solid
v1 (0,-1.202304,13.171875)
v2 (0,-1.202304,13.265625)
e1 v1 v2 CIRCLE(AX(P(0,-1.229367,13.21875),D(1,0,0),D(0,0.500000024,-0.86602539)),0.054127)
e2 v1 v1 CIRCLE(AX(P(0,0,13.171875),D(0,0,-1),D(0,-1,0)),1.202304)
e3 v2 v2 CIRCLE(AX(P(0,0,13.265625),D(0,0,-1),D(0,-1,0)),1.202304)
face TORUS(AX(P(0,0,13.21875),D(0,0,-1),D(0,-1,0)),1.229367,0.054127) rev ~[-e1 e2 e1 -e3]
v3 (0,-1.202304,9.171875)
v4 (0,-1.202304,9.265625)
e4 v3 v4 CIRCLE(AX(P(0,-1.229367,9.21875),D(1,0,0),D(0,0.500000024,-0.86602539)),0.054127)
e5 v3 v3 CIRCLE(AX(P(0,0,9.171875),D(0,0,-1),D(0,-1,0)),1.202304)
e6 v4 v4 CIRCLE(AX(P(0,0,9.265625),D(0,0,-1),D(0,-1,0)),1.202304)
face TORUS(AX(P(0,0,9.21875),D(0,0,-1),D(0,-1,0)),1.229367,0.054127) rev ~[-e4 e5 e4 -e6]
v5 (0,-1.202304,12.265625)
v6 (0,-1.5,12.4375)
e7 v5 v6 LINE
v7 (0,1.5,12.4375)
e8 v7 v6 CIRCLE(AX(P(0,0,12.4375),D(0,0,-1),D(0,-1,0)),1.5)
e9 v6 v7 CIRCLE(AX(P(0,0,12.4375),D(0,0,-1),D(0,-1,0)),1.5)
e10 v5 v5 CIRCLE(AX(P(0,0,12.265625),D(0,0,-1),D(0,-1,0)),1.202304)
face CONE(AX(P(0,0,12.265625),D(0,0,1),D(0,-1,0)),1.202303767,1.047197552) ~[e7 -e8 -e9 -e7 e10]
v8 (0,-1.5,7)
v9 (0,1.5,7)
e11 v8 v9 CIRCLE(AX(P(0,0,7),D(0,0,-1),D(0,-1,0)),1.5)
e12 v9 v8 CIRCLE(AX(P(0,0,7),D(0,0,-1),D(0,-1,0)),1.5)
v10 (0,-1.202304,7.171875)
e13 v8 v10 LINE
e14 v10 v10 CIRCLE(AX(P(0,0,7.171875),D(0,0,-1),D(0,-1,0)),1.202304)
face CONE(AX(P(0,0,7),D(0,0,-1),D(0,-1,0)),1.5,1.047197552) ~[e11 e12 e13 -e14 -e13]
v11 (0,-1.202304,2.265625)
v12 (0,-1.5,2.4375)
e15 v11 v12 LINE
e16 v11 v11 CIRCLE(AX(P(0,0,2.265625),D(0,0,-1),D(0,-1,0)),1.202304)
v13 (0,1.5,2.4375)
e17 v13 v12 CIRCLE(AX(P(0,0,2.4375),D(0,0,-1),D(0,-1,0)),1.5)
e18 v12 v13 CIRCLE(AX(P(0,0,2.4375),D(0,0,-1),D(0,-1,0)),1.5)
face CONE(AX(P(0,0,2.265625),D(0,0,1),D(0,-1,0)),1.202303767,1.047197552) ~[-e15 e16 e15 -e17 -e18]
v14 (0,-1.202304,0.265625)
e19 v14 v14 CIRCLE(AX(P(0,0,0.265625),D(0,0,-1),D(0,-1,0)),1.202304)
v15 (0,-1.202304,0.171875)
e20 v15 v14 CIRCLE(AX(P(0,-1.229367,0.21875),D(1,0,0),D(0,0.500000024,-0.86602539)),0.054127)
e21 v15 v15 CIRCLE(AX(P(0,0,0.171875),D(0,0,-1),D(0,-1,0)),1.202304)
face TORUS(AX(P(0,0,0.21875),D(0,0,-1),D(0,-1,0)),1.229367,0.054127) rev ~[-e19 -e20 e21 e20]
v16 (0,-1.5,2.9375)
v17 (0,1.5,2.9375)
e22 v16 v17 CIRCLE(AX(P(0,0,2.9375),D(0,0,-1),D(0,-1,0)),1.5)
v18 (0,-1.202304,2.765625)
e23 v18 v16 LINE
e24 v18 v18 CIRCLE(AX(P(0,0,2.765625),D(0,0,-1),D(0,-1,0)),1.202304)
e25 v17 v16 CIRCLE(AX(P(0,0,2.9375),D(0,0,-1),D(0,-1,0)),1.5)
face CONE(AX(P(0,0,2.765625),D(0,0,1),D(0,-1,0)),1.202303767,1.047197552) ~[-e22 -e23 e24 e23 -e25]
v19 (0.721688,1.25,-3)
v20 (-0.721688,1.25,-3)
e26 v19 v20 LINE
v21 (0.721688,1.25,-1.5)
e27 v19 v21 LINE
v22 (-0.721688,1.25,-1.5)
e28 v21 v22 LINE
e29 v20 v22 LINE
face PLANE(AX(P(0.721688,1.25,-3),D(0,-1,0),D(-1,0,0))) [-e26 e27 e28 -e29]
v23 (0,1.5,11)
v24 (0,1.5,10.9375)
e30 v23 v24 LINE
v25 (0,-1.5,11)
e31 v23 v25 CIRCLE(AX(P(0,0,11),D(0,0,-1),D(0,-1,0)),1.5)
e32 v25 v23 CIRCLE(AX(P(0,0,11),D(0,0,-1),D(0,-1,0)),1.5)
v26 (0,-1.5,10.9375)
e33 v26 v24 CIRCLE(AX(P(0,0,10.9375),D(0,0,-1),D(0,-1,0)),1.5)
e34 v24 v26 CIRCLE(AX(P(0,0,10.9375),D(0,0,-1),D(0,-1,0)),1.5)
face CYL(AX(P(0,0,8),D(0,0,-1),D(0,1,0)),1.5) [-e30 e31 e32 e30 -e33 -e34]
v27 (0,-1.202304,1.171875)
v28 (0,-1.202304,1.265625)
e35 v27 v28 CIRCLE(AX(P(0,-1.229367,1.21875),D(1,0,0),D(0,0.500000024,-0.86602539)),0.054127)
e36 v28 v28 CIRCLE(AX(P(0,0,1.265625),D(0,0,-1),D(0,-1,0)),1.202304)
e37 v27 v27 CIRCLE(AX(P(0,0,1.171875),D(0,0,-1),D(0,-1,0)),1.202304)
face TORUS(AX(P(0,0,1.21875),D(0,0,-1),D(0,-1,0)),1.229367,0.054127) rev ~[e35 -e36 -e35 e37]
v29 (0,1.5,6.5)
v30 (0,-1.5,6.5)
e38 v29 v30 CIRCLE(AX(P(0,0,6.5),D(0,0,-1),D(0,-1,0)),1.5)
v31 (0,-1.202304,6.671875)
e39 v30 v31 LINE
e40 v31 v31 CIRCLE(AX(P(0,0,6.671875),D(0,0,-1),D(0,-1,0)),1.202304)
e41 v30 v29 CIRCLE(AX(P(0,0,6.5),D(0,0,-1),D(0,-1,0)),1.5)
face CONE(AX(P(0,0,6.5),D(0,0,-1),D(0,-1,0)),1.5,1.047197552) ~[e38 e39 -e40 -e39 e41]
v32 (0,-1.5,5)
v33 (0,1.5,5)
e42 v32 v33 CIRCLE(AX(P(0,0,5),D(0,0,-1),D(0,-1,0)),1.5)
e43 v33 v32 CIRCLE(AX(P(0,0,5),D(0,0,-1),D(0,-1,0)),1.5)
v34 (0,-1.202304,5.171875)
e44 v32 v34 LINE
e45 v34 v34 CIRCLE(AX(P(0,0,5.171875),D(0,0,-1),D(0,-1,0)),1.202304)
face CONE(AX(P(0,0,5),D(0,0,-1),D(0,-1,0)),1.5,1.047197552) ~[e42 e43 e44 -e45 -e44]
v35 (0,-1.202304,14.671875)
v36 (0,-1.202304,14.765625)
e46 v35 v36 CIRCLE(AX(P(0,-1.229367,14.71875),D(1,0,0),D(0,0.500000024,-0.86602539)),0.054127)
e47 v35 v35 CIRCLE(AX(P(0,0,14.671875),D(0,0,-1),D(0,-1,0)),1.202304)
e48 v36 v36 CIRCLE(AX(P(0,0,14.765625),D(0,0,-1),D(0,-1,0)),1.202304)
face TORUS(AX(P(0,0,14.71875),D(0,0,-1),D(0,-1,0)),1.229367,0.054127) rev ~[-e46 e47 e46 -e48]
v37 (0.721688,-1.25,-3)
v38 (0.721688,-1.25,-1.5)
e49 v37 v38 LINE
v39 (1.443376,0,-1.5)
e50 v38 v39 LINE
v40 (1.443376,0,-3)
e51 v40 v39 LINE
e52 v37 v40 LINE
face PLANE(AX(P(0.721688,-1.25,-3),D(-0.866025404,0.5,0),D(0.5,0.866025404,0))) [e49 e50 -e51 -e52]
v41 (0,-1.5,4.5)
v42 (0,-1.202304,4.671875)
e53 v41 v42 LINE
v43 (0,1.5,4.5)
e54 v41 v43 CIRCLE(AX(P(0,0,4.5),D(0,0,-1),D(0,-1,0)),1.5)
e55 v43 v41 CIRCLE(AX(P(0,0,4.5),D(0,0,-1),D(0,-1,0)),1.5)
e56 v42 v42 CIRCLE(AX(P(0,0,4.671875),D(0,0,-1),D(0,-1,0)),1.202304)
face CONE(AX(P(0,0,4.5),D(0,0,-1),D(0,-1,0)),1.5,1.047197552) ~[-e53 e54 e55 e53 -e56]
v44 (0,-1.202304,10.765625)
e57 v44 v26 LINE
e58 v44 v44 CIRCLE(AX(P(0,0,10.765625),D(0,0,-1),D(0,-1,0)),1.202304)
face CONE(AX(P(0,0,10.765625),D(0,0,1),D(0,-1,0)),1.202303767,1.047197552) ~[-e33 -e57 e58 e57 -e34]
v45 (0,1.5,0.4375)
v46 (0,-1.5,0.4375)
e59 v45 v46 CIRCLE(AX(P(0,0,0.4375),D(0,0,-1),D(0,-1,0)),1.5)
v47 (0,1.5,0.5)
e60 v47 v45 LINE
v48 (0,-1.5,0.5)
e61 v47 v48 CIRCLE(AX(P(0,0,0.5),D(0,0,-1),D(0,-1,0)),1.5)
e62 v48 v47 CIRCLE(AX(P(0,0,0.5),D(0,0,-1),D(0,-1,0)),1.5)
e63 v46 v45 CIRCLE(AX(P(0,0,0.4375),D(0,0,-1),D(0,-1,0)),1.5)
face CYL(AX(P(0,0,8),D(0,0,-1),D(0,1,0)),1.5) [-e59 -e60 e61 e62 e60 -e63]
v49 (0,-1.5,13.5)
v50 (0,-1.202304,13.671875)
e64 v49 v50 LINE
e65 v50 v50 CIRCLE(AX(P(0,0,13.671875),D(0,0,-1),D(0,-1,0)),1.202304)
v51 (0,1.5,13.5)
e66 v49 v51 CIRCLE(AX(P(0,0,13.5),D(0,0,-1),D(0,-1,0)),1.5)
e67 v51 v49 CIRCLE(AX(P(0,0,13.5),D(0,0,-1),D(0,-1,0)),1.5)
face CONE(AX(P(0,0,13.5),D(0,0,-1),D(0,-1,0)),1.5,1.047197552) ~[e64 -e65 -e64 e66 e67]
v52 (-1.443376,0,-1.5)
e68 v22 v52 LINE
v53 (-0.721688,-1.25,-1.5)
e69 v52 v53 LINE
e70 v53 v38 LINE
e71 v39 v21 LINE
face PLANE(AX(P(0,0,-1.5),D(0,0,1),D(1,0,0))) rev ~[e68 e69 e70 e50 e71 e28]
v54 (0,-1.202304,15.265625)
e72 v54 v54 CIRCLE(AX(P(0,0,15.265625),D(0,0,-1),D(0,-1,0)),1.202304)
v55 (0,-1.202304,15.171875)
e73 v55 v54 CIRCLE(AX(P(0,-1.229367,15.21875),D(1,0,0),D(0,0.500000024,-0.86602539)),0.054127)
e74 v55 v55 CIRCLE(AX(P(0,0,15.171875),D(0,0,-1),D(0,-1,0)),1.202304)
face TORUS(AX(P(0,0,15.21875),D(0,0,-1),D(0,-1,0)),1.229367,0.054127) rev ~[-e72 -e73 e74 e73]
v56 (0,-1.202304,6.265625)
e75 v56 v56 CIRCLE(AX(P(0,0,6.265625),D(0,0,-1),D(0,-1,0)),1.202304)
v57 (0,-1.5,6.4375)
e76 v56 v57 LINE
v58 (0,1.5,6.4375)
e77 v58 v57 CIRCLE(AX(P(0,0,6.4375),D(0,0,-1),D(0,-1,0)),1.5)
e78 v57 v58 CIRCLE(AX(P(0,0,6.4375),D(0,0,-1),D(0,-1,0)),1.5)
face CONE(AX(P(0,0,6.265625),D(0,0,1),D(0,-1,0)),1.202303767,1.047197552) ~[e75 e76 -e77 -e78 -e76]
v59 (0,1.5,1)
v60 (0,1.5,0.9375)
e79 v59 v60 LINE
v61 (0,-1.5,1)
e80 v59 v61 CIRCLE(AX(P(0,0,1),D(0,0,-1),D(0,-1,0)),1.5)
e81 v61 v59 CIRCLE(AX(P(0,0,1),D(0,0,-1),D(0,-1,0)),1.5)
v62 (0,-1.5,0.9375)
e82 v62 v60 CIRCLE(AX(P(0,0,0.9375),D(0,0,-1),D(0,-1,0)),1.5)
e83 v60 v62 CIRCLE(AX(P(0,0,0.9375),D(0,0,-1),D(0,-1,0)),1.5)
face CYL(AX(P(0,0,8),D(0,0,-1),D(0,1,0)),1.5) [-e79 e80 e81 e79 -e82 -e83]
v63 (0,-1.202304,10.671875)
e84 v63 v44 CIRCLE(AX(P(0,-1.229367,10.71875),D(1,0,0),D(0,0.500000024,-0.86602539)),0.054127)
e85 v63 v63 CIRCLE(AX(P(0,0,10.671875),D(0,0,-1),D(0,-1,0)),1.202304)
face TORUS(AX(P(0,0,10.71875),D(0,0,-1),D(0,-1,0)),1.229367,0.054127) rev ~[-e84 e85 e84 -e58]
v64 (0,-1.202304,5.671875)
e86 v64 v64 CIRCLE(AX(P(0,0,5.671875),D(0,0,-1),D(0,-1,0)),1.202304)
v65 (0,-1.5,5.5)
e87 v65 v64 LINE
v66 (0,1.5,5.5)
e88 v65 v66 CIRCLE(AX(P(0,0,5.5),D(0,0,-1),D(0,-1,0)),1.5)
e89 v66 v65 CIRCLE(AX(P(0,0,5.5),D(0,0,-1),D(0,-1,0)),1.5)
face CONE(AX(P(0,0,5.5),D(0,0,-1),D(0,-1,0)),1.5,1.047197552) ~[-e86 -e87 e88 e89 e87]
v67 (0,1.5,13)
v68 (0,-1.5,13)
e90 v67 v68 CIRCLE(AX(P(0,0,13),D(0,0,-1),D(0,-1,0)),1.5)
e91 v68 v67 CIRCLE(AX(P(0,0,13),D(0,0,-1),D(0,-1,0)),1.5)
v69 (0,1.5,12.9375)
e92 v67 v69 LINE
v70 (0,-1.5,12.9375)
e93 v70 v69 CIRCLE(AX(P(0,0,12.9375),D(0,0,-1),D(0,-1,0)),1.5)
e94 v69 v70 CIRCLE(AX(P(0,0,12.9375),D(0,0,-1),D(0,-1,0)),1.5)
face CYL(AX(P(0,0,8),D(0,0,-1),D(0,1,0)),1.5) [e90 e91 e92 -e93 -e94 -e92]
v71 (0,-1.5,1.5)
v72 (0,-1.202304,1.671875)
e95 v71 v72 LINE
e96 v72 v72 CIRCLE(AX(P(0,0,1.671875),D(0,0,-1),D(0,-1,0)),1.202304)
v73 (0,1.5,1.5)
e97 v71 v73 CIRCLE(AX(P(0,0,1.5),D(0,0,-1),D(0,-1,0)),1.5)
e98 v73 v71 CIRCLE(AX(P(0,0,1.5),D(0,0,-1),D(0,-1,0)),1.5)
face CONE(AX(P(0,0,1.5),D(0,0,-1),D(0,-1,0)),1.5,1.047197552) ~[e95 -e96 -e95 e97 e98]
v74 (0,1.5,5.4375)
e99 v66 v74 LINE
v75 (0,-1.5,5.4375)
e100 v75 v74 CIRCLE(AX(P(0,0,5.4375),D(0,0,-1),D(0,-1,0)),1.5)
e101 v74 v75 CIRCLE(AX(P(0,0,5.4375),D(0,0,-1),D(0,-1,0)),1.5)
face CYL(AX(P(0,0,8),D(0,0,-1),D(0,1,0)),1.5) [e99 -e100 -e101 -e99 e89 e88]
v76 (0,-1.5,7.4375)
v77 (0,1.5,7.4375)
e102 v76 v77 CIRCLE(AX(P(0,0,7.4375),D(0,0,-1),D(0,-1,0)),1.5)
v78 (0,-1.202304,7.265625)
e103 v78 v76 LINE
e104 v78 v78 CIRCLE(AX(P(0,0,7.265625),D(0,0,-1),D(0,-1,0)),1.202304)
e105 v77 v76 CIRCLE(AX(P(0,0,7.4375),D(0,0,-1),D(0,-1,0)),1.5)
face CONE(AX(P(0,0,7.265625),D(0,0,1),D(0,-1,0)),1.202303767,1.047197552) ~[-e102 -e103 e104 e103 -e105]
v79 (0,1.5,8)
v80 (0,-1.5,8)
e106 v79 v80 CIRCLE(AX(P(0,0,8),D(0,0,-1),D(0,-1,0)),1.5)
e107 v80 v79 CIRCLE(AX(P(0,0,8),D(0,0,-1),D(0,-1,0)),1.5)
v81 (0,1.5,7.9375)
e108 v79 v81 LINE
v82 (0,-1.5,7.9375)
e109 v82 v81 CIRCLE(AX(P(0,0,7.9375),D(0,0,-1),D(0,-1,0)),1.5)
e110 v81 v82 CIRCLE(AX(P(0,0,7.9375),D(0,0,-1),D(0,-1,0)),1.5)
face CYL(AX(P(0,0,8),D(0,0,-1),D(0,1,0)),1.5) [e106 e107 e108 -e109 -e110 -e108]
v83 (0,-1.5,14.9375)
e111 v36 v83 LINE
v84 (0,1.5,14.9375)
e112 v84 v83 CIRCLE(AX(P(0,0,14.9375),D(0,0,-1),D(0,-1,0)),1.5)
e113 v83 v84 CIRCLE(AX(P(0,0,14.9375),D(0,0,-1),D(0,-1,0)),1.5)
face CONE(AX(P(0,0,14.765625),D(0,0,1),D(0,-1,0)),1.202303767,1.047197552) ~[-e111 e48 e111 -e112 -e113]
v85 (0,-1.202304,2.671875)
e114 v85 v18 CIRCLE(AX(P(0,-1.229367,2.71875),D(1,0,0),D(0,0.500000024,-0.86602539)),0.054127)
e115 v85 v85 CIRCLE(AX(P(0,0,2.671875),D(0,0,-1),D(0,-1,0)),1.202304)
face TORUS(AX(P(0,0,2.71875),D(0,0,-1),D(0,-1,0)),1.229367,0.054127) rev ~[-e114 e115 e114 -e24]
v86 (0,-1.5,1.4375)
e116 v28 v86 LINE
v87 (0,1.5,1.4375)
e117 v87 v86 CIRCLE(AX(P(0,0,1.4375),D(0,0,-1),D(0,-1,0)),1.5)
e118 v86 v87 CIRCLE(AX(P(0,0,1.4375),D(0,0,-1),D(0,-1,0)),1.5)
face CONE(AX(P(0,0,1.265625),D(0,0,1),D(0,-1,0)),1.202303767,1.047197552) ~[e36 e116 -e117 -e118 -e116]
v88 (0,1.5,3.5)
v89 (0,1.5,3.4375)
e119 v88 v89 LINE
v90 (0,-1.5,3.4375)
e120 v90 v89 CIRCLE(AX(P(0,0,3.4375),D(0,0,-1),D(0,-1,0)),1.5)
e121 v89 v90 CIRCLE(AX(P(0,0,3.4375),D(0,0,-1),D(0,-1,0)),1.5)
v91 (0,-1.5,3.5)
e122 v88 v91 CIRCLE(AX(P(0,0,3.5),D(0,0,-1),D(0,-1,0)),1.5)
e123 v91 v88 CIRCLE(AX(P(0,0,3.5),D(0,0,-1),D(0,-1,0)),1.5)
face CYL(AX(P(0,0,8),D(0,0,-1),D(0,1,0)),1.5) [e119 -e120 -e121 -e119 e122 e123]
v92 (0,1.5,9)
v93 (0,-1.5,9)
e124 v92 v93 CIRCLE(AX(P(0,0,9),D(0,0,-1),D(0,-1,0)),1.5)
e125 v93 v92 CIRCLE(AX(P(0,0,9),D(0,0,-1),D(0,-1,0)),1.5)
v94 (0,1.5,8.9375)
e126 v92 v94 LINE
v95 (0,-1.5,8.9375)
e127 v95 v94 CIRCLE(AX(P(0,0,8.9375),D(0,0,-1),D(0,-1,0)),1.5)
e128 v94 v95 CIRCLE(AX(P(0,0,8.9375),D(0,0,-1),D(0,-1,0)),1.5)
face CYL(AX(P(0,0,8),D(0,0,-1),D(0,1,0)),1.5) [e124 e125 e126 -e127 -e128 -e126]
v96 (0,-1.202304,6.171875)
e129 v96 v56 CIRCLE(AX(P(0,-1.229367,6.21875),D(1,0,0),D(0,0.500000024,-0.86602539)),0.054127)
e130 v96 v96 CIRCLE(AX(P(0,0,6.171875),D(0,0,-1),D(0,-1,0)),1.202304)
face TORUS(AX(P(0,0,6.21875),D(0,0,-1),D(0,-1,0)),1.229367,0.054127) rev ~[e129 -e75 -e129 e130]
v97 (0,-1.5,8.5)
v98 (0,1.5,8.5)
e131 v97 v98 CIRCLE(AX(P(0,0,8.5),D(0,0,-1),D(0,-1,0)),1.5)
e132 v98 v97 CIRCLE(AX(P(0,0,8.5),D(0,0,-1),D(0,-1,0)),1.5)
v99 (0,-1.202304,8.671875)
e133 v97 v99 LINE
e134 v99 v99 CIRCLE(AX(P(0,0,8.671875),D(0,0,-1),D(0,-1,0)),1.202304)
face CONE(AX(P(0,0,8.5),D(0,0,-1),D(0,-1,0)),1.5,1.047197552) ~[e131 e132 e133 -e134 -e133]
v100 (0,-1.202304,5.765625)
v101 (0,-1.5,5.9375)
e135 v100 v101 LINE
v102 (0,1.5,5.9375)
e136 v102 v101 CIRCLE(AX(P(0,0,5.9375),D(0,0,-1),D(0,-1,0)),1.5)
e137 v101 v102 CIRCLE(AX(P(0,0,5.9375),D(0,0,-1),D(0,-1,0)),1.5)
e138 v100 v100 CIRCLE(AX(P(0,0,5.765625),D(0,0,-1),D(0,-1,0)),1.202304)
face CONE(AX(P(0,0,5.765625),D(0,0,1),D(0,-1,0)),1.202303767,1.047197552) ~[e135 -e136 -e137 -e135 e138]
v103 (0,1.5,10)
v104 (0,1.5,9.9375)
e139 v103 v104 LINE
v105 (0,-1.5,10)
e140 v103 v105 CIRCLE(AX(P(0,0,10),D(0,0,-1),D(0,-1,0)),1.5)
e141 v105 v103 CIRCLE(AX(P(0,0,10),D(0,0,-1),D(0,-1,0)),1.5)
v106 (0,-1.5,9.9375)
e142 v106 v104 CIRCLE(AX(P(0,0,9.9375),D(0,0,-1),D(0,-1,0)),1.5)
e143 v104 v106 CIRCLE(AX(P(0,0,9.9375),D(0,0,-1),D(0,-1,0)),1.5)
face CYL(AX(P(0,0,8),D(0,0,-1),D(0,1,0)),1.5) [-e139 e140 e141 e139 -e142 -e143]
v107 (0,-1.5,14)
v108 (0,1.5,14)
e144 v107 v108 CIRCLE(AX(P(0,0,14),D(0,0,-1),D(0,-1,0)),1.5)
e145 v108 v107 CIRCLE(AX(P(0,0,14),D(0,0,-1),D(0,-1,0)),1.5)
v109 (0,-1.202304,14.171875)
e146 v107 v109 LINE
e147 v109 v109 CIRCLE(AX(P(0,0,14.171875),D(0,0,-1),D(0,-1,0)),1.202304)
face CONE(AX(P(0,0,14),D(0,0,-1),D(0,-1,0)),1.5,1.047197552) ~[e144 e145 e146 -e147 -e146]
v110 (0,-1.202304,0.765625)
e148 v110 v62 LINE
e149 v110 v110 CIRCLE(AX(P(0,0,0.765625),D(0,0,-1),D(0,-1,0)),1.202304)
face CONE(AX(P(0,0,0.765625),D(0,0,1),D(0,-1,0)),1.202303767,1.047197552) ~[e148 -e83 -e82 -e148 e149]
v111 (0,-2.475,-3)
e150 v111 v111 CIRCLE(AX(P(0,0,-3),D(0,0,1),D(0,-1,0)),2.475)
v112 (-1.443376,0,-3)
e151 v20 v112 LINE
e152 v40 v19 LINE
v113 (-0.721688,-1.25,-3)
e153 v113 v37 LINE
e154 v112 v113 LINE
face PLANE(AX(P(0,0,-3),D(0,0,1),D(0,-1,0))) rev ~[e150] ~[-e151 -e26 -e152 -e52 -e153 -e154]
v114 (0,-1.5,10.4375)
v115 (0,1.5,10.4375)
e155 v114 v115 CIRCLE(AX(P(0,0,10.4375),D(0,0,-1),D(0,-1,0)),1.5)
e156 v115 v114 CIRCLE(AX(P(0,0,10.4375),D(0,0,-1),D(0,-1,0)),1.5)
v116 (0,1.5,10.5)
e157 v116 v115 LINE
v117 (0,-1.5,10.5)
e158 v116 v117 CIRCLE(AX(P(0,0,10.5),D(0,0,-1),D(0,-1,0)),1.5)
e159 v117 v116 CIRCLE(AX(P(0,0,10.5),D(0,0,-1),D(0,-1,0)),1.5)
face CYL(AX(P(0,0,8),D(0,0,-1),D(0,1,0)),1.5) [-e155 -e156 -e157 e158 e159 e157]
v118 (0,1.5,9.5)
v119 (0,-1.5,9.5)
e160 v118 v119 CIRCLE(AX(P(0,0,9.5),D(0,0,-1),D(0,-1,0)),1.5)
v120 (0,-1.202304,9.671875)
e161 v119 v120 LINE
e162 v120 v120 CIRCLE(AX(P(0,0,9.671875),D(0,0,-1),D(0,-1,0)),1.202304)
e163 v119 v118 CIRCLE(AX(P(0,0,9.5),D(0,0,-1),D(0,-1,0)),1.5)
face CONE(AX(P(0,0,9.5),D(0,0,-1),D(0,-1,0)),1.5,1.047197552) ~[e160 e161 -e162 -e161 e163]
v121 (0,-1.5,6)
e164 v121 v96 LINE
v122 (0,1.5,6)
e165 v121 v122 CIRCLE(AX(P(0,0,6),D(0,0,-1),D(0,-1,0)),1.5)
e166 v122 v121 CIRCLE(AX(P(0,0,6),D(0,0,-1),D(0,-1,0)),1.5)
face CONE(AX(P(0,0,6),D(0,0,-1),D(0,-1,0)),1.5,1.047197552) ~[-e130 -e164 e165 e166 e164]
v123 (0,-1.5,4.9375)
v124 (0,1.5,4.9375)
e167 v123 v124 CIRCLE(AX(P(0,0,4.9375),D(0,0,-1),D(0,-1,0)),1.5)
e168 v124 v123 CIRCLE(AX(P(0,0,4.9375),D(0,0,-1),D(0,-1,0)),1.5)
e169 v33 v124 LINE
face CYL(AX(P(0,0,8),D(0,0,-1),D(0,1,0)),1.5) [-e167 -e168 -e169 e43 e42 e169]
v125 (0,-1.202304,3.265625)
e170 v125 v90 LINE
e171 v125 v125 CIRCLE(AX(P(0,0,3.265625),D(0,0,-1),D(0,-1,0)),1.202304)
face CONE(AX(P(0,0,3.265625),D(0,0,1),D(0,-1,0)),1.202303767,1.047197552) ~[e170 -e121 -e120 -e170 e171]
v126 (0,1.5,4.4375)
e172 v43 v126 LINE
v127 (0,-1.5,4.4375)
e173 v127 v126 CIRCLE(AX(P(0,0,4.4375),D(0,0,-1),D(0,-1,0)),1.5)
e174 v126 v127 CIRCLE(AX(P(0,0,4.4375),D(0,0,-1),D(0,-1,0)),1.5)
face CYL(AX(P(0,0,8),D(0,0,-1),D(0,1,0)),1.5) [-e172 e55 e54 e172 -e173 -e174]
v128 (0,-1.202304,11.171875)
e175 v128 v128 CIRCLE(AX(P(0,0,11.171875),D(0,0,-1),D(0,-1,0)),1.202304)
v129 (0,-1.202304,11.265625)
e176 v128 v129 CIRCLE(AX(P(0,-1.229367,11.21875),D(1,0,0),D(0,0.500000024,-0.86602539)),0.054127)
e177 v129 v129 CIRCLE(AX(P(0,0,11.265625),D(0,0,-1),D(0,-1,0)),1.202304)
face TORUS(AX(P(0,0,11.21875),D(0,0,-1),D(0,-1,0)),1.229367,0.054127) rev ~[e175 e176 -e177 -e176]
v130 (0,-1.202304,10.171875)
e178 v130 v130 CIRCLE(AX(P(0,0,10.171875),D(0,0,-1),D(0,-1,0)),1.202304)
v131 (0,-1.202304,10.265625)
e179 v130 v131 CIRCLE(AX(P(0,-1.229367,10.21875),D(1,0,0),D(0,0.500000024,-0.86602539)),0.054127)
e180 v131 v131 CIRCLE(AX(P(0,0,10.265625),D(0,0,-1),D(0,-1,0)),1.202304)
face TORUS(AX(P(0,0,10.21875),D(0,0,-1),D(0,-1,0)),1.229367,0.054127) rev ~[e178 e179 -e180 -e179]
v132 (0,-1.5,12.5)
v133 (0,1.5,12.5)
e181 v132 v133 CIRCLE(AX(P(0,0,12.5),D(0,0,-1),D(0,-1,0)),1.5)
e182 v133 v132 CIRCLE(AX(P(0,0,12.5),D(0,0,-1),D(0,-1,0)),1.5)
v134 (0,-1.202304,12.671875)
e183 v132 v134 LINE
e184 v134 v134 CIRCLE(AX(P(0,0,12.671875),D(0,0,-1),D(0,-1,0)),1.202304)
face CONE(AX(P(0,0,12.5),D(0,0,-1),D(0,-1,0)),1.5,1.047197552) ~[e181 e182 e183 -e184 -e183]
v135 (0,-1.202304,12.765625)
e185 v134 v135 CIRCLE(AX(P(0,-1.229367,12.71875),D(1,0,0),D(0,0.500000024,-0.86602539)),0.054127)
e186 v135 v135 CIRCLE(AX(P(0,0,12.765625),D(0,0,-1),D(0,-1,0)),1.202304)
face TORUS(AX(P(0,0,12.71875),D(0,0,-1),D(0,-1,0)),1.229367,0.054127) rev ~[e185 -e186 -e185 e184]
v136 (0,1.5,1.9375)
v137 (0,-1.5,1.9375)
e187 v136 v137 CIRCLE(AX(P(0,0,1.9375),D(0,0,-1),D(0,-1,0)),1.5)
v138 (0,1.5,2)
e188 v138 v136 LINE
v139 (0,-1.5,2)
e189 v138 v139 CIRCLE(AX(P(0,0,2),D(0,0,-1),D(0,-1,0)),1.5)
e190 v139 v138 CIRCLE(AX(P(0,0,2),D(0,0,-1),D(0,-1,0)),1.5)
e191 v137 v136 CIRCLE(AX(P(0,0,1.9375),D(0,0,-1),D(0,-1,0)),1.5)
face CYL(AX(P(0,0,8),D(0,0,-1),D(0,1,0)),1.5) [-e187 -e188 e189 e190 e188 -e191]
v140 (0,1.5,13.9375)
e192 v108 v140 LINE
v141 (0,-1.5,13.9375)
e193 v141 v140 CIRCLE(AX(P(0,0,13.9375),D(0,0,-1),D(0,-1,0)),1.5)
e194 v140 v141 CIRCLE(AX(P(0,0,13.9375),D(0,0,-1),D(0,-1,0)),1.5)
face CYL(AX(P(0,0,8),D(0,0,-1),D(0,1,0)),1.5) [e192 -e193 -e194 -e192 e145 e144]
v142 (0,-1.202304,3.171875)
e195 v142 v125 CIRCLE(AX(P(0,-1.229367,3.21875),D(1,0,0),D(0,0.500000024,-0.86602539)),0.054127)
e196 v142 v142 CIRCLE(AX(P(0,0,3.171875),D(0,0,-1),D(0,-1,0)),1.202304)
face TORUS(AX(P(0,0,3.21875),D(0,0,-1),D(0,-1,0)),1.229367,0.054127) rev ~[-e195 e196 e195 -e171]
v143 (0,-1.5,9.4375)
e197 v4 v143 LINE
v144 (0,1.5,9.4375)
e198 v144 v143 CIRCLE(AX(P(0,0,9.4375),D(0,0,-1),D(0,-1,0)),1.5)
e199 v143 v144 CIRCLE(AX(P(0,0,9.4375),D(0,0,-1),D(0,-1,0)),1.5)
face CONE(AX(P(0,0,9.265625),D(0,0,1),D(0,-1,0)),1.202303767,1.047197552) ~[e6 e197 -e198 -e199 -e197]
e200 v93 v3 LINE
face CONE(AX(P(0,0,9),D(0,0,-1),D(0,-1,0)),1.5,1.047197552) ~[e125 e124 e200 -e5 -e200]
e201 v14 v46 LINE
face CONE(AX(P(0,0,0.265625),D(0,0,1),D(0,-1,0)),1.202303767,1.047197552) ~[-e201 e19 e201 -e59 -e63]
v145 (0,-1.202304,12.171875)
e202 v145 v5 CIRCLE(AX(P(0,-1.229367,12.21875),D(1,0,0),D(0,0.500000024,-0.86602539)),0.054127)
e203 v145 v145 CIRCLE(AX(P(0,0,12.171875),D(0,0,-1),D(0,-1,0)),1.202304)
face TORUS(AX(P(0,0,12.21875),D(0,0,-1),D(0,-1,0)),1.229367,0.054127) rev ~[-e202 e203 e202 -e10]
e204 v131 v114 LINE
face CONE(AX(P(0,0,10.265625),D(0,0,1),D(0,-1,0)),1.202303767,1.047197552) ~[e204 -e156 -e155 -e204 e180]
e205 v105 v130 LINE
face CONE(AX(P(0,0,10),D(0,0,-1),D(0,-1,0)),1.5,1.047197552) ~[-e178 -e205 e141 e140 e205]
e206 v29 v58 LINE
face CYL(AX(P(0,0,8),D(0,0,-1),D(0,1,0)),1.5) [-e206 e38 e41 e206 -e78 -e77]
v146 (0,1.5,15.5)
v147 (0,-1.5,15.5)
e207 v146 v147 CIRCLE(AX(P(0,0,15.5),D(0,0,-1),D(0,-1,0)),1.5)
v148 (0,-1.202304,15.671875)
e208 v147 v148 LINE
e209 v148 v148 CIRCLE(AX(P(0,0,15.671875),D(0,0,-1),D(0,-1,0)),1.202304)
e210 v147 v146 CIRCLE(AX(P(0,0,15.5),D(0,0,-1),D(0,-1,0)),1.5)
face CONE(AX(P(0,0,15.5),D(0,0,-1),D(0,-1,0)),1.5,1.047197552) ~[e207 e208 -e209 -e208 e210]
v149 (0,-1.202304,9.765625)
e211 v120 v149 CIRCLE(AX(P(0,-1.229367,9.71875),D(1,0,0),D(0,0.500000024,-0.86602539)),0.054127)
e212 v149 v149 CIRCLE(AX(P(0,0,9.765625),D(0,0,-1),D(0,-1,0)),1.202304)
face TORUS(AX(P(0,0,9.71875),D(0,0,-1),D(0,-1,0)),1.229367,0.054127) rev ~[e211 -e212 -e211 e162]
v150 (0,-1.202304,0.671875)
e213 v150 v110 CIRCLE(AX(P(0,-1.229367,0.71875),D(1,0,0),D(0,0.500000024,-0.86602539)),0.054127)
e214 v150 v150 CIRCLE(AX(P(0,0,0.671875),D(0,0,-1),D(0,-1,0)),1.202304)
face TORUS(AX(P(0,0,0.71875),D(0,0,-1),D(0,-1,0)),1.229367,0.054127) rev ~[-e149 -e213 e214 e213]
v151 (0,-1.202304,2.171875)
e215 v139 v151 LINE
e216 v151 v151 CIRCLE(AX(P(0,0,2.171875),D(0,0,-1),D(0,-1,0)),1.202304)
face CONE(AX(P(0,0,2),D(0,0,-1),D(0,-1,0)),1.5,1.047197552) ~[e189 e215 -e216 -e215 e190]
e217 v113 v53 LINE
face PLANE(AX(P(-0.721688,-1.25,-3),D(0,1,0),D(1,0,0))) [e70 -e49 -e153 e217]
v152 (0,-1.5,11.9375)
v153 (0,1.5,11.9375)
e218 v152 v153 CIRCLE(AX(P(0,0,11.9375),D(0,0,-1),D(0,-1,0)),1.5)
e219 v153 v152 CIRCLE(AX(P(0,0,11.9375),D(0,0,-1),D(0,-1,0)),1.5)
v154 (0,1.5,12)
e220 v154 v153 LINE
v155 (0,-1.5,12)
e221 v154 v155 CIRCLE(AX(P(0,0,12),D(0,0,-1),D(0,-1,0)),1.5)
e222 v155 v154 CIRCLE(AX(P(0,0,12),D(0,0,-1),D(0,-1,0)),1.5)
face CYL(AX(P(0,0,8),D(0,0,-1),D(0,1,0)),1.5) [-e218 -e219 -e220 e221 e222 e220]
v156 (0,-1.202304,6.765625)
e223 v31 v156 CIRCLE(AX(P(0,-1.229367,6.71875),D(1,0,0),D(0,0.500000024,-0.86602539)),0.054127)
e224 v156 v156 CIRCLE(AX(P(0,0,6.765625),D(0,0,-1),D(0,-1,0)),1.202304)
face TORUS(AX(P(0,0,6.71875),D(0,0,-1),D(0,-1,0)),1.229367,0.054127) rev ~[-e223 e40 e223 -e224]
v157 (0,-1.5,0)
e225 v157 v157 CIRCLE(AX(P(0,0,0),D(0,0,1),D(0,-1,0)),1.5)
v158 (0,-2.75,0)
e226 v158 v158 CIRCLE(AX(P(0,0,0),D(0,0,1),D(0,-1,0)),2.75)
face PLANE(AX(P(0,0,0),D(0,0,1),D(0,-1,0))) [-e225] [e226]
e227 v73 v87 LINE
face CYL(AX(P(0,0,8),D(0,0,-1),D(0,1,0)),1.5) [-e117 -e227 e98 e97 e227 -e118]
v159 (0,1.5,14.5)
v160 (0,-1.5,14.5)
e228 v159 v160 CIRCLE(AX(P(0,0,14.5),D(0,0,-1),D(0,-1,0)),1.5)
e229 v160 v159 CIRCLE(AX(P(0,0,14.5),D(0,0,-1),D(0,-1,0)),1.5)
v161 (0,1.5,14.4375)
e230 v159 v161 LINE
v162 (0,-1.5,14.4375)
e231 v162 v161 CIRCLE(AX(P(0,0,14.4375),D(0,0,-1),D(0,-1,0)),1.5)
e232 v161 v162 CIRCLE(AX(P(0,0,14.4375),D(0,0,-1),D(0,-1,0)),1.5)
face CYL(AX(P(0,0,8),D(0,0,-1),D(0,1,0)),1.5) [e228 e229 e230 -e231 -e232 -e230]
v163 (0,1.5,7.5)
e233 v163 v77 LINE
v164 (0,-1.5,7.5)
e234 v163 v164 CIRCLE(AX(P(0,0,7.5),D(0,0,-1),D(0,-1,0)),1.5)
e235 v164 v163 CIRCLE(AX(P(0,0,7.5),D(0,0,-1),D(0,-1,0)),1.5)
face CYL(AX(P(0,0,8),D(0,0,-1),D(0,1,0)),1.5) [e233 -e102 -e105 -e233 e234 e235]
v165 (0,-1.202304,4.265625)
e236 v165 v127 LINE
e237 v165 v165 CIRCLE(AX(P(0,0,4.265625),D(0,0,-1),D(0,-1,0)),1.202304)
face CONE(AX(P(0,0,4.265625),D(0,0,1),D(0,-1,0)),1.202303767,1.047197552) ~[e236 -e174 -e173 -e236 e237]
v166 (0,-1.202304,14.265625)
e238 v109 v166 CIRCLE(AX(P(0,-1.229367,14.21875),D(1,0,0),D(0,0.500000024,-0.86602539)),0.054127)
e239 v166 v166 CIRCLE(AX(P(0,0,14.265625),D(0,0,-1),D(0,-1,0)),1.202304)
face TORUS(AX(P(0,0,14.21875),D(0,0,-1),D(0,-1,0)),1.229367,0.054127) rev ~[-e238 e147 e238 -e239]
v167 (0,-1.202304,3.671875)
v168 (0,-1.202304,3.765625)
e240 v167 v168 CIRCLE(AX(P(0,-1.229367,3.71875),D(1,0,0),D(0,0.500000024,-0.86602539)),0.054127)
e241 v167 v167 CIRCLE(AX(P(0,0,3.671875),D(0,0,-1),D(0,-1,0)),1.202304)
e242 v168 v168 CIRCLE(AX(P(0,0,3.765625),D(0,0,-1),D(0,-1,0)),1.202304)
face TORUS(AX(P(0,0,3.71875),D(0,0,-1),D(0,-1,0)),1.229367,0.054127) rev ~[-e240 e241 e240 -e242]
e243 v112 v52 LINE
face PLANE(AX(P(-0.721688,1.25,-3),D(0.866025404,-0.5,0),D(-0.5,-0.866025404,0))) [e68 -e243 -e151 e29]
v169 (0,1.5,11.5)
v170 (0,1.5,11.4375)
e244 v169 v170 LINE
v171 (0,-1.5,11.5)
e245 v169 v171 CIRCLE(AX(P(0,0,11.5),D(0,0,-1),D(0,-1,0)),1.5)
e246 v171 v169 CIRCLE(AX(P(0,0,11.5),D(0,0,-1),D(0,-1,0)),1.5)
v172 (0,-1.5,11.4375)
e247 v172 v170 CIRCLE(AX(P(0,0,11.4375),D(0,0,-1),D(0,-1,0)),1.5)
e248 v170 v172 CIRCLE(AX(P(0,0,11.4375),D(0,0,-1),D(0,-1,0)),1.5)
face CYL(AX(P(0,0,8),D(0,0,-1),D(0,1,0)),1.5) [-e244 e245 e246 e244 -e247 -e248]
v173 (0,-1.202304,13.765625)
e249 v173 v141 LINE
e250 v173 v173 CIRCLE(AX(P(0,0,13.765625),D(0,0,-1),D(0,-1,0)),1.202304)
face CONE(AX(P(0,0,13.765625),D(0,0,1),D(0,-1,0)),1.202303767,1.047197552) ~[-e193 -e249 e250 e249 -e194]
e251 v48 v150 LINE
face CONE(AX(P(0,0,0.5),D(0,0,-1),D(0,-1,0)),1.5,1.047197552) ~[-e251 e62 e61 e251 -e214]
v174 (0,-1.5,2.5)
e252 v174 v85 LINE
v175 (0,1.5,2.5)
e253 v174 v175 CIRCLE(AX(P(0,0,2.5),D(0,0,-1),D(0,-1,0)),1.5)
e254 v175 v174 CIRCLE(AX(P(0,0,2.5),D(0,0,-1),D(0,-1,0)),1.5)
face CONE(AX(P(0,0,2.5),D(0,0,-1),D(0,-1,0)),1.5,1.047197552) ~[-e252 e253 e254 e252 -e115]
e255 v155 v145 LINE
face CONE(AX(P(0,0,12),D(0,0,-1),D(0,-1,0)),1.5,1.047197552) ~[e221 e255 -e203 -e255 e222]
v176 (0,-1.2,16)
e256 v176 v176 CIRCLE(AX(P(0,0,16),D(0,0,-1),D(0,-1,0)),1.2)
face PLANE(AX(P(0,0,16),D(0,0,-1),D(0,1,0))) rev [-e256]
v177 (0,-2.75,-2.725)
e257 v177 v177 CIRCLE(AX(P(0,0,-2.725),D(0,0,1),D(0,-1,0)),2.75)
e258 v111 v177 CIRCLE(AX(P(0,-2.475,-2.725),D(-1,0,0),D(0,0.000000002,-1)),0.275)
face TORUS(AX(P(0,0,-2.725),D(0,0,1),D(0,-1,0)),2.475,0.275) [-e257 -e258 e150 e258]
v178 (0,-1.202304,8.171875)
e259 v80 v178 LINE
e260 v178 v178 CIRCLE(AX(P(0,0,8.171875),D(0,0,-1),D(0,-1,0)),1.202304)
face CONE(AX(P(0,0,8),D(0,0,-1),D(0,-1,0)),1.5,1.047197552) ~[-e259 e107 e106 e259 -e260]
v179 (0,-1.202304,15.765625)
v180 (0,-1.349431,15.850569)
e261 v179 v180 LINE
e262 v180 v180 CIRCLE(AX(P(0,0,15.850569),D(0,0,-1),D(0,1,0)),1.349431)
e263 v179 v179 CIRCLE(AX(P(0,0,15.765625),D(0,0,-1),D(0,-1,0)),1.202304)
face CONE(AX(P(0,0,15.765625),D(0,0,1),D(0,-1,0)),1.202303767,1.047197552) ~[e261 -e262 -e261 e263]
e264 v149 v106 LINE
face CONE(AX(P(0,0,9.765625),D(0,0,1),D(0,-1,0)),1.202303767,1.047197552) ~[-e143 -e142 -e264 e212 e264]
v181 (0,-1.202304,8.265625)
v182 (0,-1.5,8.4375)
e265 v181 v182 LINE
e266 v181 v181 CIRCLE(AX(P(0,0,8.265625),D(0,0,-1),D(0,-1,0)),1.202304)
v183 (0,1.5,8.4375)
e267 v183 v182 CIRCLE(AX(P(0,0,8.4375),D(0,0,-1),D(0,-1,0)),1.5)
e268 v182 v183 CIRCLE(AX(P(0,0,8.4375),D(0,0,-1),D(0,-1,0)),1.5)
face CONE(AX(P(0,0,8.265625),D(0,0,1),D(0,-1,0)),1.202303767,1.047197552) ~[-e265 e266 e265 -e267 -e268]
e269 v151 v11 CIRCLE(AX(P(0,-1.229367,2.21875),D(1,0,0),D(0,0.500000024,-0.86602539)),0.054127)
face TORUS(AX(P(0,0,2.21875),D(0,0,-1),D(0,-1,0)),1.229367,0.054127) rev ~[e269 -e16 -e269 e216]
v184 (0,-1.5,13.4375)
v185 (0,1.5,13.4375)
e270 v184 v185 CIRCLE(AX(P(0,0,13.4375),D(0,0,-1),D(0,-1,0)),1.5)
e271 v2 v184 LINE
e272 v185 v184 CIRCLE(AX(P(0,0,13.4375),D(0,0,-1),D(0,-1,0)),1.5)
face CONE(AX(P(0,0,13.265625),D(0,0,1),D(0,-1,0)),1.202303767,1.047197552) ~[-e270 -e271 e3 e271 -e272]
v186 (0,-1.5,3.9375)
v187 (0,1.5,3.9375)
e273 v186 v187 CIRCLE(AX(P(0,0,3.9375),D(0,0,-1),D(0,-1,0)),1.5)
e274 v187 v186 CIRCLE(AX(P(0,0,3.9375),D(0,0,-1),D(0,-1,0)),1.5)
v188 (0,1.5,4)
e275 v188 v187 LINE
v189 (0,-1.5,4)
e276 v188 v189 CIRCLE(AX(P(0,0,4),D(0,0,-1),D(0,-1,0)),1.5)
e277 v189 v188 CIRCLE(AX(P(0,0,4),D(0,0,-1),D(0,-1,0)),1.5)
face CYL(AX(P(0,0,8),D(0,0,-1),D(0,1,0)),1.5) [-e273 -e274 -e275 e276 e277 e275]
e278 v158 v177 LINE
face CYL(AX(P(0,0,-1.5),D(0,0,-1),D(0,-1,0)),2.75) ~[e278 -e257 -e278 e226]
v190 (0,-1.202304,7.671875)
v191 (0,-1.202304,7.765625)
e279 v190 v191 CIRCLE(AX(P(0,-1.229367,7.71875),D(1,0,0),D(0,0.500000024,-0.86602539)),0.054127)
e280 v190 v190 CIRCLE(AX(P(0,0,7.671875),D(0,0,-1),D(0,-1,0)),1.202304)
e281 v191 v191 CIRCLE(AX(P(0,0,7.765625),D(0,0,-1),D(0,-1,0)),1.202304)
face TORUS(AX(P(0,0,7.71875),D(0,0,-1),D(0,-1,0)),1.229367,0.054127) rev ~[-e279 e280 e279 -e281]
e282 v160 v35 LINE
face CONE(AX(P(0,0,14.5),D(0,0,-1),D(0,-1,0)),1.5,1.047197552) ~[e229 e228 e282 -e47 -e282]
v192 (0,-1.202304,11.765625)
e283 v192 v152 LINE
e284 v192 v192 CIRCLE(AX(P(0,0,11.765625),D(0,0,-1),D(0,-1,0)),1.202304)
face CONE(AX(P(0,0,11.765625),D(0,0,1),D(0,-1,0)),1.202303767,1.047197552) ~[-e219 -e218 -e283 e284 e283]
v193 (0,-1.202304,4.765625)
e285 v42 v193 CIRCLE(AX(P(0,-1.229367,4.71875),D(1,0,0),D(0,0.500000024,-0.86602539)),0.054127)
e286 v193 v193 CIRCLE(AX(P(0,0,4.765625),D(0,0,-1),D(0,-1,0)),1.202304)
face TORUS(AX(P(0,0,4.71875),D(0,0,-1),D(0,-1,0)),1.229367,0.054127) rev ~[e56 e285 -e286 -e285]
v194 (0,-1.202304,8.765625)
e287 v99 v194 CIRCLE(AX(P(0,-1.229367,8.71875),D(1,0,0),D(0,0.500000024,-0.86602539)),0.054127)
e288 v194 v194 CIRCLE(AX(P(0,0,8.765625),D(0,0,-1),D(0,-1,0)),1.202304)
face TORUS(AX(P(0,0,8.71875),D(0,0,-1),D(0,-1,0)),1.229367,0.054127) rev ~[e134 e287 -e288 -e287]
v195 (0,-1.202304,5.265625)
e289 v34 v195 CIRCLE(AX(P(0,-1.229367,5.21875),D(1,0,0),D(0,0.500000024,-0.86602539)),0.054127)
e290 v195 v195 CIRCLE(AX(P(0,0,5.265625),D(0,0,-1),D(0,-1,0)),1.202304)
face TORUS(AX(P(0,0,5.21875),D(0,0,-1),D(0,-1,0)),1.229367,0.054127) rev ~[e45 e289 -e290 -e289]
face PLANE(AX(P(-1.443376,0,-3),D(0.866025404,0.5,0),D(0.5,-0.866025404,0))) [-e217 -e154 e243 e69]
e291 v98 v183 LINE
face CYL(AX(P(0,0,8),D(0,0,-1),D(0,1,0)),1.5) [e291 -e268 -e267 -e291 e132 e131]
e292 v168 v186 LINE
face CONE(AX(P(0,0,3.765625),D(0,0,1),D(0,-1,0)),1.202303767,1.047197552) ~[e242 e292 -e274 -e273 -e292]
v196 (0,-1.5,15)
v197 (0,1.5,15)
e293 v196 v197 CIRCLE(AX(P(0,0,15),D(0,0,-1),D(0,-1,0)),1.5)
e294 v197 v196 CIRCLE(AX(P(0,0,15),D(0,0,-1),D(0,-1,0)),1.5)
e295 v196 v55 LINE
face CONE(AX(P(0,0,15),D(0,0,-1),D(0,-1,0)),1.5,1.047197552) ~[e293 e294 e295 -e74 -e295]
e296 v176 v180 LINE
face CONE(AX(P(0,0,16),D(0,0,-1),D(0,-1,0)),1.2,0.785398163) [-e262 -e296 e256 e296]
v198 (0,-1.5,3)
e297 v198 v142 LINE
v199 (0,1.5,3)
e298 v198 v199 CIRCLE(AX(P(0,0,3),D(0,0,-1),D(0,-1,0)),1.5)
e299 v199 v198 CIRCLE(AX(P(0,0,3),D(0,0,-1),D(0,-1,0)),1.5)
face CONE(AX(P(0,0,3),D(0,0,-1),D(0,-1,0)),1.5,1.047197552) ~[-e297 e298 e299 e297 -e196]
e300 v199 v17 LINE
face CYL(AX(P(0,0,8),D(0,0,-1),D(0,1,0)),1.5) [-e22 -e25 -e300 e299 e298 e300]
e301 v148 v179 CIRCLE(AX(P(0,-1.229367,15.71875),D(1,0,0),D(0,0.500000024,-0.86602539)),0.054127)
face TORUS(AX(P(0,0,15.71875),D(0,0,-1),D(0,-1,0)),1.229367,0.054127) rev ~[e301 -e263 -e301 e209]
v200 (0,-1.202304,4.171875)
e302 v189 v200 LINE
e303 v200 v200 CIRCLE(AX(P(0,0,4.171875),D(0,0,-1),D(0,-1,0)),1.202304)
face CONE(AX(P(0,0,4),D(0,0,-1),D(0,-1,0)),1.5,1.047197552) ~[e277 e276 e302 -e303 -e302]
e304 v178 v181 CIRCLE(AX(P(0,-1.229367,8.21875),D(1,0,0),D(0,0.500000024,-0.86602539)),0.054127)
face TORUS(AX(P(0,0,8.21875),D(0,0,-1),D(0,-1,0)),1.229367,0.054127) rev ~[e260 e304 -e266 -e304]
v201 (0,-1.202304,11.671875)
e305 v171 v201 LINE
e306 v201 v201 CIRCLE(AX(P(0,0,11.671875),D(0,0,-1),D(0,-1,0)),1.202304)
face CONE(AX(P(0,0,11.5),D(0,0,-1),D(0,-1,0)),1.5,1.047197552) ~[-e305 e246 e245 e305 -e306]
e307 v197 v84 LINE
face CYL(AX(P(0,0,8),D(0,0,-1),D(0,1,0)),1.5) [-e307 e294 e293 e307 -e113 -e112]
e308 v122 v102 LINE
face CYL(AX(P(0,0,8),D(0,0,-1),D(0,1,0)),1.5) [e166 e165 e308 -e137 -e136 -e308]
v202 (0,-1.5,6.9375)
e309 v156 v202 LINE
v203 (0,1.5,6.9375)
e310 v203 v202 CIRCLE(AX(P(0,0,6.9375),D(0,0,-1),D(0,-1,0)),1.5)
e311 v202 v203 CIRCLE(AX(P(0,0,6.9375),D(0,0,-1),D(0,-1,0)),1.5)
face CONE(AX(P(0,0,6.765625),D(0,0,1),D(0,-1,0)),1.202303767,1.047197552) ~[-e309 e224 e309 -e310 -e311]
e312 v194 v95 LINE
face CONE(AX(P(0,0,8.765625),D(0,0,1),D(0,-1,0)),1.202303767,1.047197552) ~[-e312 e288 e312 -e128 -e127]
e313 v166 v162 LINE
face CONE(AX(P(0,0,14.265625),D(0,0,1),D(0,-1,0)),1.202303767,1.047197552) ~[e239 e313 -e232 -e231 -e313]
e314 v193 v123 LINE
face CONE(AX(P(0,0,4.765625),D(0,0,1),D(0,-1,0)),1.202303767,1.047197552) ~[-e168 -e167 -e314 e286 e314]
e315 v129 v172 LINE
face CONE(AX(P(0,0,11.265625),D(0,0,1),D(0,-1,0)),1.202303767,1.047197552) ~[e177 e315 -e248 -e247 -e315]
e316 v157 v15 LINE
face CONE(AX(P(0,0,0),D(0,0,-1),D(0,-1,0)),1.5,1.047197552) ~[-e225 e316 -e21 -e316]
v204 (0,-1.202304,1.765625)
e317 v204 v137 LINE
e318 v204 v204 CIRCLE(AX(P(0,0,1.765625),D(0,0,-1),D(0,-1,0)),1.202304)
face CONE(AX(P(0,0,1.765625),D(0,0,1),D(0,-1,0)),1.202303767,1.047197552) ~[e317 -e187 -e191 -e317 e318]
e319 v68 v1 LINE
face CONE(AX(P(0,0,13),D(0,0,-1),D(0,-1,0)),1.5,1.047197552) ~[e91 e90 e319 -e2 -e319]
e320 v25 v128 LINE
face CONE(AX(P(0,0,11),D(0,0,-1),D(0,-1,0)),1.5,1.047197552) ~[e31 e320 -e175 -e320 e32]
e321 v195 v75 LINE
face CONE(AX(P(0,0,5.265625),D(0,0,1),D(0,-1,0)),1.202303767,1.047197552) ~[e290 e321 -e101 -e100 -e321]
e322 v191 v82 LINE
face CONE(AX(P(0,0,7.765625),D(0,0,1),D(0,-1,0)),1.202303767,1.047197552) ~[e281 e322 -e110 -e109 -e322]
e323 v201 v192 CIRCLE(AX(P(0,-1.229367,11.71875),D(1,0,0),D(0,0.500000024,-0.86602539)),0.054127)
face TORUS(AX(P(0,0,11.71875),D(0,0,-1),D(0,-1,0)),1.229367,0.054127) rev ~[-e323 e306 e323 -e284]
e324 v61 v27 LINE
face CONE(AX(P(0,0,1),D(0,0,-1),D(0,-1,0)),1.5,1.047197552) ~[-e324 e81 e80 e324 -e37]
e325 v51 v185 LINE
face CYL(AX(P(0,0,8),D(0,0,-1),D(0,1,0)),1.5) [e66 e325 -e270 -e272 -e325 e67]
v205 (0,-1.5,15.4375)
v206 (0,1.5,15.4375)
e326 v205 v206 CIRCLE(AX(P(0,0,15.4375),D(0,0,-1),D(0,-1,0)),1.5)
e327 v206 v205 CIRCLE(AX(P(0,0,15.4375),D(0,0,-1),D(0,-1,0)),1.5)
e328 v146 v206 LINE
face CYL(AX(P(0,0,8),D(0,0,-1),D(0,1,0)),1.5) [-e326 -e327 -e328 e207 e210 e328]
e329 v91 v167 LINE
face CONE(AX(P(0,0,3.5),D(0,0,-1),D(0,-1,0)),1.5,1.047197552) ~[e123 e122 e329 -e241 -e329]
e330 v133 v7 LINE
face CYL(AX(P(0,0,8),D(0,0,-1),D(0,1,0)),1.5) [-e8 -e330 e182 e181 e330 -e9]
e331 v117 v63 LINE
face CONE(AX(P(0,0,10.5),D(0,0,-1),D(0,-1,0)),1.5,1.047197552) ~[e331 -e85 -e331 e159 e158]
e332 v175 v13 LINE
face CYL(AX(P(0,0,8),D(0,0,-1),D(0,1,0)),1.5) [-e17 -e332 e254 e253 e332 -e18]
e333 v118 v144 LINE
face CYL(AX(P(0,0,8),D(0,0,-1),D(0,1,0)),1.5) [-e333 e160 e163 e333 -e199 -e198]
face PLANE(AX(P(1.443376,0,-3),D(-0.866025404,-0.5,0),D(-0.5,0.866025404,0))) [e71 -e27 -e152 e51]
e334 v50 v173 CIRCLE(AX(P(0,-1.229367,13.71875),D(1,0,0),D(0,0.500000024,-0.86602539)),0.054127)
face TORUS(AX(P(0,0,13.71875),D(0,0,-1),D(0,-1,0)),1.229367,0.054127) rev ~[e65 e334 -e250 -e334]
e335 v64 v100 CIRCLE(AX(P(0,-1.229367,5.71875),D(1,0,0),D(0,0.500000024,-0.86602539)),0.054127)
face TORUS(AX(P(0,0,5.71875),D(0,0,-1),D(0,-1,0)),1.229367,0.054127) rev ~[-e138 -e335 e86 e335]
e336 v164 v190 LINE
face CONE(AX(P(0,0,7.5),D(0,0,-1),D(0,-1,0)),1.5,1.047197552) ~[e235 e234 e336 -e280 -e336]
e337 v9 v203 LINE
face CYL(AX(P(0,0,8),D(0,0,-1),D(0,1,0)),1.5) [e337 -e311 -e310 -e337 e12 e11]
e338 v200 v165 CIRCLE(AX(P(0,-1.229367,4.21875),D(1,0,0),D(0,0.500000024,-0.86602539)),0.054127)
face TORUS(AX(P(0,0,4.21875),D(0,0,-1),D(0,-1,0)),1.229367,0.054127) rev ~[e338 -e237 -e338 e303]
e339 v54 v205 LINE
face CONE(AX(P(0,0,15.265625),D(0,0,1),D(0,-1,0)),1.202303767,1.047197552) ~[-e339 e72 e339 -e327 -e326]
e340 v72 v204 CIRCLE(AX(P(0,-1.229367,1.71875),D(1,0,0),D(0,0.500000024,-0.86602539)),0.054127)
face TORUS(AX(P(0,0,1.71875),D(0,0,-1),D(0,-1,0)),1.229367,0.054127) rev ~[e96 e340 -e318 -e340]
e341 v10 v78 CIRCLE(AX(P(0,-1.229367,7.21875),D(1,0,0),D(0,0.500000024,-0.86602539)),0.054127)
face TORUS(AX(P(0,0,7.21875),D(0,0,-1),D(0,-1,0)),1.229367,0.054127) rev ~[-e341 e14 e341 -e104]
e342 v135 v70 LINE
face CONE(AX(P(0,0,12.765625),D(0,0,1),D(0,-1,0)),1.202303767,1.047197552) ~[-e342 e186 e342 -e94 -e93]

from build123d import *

# Parameters (mm, degrees)
SKETCH5_W           = 16
SKETCH5_H           = 1.5
THREAD_SIMPLE_COUNT = 33
THREAD_SIMPLE_PITCH = 0.5
SKETCH15_W          = 3
SKETCH15_H          = 2.75
CUT_HEAD_KEY_DEPTH  = 1.5


with BuildPart() as part:
    # Sketch5 → body (revolve)
    with BuildSketch(Plane(origin=(0, 0, 0), x_dir=(0, 0, -1), z_dir=(1, 0, 0))):
        with Locations((-8, 0.75)):
            Rectangle(SKETCH5_W, SKETCH5_H)
    revolve(axis=Axis((0, 0, 16), (0, 0, -1)))

    # Sketch11 → cut-chamfer-start (revolve, cut)
    with BuildSketch(Plane(origin=(0, 0, 0), x_dir=(0, 0, -1), z_dir=(1, 0, 0))):
        Polygon((-16, -1.5), (-16, -1.2), (-15.7, -1.5), align=None)
    revolve(axis=Axis((0, 0, 16), (0, 0, -1)), mode=Mode.SUBTRACT)

    # Sketch8 → thread-single (revolve, cut)
    with BuildSketch(Plane(origin=(0, 0, 0), x_dir=(0, 0, -1), z_dir=(1, 0, 0))):
        with BuildLine():
            Line((-0.4375, -1.5), (0, -1.5))
            Line((0, -1.5), (-0.171875, -1.202303767))
            ThreePointArc((-0.171875, -1.202303767), (-0.21875, -1.175240474), (-0.265625, -1.202303767))
            Line((-0.265625, -1.202303767), (-0.4375, -1.5))
        make_face()
    thread_single = revolve(axis=Axis((0, 0, 16), (0, 0, -1)), mode=Mode.SUBTRACT)

    # thread-simple: thread-single ×33
    with Locations(*[(0, 0, i * THREAD_SIMPLE_PITCH) for i in range(1, THREAD_SIMPLE_COUNT)]):
        add(thread_single, mode=Mode.SUBTRACT)

    # Sketch15 → body-head (revolve)
    with BuildSketch(Plane(origin=(0, 0, 0), x_dir=(0, 0, -1), z_dir=(1, 0, 0))):
        with Locations((1.5, -1.375)):
            Rectangle(SKETCH15_W, SKETCH15_H)
    revolve(axis=Axis((0, 0, -3), (0, 0, 1)))

    # Sketch19 → cut-head-profile (revolve, cut)
    with BuildSketch(Plane(origin=(0, 0, 0), x_dir=(0, 0, -1), z_dir=(1, 0, 0))):
        with BuildLine():
            Line((3, -2.75), (3, -2.475))
            ThreePointArc((3, -2.475), (2.919454365, -2.669454365), (2.725, -2.75))
            Line((2.725, -2.75), (3, -2.75))
        make_face()
    revolve(axis=Axis((0, 0, -3), (0, 0, 1)), mode=Mode.SUBTRACT)

    # Sketch25 → cut-head-key (cut)
    with BuildSketch(Plane.XY.offset(-3)):
        Polygon((0.721687836, 1.25), (-0.721687836, 1.25), (-1.443375673, 0), (-0.721687836, -1.25), (0.721687836, -1.25), (1.443375673, 0), align=None)
    extrude(amount=CUT_HEAD_KEY_DEPTH, mode=Mode.SUBTRACT)


solid = part.part
